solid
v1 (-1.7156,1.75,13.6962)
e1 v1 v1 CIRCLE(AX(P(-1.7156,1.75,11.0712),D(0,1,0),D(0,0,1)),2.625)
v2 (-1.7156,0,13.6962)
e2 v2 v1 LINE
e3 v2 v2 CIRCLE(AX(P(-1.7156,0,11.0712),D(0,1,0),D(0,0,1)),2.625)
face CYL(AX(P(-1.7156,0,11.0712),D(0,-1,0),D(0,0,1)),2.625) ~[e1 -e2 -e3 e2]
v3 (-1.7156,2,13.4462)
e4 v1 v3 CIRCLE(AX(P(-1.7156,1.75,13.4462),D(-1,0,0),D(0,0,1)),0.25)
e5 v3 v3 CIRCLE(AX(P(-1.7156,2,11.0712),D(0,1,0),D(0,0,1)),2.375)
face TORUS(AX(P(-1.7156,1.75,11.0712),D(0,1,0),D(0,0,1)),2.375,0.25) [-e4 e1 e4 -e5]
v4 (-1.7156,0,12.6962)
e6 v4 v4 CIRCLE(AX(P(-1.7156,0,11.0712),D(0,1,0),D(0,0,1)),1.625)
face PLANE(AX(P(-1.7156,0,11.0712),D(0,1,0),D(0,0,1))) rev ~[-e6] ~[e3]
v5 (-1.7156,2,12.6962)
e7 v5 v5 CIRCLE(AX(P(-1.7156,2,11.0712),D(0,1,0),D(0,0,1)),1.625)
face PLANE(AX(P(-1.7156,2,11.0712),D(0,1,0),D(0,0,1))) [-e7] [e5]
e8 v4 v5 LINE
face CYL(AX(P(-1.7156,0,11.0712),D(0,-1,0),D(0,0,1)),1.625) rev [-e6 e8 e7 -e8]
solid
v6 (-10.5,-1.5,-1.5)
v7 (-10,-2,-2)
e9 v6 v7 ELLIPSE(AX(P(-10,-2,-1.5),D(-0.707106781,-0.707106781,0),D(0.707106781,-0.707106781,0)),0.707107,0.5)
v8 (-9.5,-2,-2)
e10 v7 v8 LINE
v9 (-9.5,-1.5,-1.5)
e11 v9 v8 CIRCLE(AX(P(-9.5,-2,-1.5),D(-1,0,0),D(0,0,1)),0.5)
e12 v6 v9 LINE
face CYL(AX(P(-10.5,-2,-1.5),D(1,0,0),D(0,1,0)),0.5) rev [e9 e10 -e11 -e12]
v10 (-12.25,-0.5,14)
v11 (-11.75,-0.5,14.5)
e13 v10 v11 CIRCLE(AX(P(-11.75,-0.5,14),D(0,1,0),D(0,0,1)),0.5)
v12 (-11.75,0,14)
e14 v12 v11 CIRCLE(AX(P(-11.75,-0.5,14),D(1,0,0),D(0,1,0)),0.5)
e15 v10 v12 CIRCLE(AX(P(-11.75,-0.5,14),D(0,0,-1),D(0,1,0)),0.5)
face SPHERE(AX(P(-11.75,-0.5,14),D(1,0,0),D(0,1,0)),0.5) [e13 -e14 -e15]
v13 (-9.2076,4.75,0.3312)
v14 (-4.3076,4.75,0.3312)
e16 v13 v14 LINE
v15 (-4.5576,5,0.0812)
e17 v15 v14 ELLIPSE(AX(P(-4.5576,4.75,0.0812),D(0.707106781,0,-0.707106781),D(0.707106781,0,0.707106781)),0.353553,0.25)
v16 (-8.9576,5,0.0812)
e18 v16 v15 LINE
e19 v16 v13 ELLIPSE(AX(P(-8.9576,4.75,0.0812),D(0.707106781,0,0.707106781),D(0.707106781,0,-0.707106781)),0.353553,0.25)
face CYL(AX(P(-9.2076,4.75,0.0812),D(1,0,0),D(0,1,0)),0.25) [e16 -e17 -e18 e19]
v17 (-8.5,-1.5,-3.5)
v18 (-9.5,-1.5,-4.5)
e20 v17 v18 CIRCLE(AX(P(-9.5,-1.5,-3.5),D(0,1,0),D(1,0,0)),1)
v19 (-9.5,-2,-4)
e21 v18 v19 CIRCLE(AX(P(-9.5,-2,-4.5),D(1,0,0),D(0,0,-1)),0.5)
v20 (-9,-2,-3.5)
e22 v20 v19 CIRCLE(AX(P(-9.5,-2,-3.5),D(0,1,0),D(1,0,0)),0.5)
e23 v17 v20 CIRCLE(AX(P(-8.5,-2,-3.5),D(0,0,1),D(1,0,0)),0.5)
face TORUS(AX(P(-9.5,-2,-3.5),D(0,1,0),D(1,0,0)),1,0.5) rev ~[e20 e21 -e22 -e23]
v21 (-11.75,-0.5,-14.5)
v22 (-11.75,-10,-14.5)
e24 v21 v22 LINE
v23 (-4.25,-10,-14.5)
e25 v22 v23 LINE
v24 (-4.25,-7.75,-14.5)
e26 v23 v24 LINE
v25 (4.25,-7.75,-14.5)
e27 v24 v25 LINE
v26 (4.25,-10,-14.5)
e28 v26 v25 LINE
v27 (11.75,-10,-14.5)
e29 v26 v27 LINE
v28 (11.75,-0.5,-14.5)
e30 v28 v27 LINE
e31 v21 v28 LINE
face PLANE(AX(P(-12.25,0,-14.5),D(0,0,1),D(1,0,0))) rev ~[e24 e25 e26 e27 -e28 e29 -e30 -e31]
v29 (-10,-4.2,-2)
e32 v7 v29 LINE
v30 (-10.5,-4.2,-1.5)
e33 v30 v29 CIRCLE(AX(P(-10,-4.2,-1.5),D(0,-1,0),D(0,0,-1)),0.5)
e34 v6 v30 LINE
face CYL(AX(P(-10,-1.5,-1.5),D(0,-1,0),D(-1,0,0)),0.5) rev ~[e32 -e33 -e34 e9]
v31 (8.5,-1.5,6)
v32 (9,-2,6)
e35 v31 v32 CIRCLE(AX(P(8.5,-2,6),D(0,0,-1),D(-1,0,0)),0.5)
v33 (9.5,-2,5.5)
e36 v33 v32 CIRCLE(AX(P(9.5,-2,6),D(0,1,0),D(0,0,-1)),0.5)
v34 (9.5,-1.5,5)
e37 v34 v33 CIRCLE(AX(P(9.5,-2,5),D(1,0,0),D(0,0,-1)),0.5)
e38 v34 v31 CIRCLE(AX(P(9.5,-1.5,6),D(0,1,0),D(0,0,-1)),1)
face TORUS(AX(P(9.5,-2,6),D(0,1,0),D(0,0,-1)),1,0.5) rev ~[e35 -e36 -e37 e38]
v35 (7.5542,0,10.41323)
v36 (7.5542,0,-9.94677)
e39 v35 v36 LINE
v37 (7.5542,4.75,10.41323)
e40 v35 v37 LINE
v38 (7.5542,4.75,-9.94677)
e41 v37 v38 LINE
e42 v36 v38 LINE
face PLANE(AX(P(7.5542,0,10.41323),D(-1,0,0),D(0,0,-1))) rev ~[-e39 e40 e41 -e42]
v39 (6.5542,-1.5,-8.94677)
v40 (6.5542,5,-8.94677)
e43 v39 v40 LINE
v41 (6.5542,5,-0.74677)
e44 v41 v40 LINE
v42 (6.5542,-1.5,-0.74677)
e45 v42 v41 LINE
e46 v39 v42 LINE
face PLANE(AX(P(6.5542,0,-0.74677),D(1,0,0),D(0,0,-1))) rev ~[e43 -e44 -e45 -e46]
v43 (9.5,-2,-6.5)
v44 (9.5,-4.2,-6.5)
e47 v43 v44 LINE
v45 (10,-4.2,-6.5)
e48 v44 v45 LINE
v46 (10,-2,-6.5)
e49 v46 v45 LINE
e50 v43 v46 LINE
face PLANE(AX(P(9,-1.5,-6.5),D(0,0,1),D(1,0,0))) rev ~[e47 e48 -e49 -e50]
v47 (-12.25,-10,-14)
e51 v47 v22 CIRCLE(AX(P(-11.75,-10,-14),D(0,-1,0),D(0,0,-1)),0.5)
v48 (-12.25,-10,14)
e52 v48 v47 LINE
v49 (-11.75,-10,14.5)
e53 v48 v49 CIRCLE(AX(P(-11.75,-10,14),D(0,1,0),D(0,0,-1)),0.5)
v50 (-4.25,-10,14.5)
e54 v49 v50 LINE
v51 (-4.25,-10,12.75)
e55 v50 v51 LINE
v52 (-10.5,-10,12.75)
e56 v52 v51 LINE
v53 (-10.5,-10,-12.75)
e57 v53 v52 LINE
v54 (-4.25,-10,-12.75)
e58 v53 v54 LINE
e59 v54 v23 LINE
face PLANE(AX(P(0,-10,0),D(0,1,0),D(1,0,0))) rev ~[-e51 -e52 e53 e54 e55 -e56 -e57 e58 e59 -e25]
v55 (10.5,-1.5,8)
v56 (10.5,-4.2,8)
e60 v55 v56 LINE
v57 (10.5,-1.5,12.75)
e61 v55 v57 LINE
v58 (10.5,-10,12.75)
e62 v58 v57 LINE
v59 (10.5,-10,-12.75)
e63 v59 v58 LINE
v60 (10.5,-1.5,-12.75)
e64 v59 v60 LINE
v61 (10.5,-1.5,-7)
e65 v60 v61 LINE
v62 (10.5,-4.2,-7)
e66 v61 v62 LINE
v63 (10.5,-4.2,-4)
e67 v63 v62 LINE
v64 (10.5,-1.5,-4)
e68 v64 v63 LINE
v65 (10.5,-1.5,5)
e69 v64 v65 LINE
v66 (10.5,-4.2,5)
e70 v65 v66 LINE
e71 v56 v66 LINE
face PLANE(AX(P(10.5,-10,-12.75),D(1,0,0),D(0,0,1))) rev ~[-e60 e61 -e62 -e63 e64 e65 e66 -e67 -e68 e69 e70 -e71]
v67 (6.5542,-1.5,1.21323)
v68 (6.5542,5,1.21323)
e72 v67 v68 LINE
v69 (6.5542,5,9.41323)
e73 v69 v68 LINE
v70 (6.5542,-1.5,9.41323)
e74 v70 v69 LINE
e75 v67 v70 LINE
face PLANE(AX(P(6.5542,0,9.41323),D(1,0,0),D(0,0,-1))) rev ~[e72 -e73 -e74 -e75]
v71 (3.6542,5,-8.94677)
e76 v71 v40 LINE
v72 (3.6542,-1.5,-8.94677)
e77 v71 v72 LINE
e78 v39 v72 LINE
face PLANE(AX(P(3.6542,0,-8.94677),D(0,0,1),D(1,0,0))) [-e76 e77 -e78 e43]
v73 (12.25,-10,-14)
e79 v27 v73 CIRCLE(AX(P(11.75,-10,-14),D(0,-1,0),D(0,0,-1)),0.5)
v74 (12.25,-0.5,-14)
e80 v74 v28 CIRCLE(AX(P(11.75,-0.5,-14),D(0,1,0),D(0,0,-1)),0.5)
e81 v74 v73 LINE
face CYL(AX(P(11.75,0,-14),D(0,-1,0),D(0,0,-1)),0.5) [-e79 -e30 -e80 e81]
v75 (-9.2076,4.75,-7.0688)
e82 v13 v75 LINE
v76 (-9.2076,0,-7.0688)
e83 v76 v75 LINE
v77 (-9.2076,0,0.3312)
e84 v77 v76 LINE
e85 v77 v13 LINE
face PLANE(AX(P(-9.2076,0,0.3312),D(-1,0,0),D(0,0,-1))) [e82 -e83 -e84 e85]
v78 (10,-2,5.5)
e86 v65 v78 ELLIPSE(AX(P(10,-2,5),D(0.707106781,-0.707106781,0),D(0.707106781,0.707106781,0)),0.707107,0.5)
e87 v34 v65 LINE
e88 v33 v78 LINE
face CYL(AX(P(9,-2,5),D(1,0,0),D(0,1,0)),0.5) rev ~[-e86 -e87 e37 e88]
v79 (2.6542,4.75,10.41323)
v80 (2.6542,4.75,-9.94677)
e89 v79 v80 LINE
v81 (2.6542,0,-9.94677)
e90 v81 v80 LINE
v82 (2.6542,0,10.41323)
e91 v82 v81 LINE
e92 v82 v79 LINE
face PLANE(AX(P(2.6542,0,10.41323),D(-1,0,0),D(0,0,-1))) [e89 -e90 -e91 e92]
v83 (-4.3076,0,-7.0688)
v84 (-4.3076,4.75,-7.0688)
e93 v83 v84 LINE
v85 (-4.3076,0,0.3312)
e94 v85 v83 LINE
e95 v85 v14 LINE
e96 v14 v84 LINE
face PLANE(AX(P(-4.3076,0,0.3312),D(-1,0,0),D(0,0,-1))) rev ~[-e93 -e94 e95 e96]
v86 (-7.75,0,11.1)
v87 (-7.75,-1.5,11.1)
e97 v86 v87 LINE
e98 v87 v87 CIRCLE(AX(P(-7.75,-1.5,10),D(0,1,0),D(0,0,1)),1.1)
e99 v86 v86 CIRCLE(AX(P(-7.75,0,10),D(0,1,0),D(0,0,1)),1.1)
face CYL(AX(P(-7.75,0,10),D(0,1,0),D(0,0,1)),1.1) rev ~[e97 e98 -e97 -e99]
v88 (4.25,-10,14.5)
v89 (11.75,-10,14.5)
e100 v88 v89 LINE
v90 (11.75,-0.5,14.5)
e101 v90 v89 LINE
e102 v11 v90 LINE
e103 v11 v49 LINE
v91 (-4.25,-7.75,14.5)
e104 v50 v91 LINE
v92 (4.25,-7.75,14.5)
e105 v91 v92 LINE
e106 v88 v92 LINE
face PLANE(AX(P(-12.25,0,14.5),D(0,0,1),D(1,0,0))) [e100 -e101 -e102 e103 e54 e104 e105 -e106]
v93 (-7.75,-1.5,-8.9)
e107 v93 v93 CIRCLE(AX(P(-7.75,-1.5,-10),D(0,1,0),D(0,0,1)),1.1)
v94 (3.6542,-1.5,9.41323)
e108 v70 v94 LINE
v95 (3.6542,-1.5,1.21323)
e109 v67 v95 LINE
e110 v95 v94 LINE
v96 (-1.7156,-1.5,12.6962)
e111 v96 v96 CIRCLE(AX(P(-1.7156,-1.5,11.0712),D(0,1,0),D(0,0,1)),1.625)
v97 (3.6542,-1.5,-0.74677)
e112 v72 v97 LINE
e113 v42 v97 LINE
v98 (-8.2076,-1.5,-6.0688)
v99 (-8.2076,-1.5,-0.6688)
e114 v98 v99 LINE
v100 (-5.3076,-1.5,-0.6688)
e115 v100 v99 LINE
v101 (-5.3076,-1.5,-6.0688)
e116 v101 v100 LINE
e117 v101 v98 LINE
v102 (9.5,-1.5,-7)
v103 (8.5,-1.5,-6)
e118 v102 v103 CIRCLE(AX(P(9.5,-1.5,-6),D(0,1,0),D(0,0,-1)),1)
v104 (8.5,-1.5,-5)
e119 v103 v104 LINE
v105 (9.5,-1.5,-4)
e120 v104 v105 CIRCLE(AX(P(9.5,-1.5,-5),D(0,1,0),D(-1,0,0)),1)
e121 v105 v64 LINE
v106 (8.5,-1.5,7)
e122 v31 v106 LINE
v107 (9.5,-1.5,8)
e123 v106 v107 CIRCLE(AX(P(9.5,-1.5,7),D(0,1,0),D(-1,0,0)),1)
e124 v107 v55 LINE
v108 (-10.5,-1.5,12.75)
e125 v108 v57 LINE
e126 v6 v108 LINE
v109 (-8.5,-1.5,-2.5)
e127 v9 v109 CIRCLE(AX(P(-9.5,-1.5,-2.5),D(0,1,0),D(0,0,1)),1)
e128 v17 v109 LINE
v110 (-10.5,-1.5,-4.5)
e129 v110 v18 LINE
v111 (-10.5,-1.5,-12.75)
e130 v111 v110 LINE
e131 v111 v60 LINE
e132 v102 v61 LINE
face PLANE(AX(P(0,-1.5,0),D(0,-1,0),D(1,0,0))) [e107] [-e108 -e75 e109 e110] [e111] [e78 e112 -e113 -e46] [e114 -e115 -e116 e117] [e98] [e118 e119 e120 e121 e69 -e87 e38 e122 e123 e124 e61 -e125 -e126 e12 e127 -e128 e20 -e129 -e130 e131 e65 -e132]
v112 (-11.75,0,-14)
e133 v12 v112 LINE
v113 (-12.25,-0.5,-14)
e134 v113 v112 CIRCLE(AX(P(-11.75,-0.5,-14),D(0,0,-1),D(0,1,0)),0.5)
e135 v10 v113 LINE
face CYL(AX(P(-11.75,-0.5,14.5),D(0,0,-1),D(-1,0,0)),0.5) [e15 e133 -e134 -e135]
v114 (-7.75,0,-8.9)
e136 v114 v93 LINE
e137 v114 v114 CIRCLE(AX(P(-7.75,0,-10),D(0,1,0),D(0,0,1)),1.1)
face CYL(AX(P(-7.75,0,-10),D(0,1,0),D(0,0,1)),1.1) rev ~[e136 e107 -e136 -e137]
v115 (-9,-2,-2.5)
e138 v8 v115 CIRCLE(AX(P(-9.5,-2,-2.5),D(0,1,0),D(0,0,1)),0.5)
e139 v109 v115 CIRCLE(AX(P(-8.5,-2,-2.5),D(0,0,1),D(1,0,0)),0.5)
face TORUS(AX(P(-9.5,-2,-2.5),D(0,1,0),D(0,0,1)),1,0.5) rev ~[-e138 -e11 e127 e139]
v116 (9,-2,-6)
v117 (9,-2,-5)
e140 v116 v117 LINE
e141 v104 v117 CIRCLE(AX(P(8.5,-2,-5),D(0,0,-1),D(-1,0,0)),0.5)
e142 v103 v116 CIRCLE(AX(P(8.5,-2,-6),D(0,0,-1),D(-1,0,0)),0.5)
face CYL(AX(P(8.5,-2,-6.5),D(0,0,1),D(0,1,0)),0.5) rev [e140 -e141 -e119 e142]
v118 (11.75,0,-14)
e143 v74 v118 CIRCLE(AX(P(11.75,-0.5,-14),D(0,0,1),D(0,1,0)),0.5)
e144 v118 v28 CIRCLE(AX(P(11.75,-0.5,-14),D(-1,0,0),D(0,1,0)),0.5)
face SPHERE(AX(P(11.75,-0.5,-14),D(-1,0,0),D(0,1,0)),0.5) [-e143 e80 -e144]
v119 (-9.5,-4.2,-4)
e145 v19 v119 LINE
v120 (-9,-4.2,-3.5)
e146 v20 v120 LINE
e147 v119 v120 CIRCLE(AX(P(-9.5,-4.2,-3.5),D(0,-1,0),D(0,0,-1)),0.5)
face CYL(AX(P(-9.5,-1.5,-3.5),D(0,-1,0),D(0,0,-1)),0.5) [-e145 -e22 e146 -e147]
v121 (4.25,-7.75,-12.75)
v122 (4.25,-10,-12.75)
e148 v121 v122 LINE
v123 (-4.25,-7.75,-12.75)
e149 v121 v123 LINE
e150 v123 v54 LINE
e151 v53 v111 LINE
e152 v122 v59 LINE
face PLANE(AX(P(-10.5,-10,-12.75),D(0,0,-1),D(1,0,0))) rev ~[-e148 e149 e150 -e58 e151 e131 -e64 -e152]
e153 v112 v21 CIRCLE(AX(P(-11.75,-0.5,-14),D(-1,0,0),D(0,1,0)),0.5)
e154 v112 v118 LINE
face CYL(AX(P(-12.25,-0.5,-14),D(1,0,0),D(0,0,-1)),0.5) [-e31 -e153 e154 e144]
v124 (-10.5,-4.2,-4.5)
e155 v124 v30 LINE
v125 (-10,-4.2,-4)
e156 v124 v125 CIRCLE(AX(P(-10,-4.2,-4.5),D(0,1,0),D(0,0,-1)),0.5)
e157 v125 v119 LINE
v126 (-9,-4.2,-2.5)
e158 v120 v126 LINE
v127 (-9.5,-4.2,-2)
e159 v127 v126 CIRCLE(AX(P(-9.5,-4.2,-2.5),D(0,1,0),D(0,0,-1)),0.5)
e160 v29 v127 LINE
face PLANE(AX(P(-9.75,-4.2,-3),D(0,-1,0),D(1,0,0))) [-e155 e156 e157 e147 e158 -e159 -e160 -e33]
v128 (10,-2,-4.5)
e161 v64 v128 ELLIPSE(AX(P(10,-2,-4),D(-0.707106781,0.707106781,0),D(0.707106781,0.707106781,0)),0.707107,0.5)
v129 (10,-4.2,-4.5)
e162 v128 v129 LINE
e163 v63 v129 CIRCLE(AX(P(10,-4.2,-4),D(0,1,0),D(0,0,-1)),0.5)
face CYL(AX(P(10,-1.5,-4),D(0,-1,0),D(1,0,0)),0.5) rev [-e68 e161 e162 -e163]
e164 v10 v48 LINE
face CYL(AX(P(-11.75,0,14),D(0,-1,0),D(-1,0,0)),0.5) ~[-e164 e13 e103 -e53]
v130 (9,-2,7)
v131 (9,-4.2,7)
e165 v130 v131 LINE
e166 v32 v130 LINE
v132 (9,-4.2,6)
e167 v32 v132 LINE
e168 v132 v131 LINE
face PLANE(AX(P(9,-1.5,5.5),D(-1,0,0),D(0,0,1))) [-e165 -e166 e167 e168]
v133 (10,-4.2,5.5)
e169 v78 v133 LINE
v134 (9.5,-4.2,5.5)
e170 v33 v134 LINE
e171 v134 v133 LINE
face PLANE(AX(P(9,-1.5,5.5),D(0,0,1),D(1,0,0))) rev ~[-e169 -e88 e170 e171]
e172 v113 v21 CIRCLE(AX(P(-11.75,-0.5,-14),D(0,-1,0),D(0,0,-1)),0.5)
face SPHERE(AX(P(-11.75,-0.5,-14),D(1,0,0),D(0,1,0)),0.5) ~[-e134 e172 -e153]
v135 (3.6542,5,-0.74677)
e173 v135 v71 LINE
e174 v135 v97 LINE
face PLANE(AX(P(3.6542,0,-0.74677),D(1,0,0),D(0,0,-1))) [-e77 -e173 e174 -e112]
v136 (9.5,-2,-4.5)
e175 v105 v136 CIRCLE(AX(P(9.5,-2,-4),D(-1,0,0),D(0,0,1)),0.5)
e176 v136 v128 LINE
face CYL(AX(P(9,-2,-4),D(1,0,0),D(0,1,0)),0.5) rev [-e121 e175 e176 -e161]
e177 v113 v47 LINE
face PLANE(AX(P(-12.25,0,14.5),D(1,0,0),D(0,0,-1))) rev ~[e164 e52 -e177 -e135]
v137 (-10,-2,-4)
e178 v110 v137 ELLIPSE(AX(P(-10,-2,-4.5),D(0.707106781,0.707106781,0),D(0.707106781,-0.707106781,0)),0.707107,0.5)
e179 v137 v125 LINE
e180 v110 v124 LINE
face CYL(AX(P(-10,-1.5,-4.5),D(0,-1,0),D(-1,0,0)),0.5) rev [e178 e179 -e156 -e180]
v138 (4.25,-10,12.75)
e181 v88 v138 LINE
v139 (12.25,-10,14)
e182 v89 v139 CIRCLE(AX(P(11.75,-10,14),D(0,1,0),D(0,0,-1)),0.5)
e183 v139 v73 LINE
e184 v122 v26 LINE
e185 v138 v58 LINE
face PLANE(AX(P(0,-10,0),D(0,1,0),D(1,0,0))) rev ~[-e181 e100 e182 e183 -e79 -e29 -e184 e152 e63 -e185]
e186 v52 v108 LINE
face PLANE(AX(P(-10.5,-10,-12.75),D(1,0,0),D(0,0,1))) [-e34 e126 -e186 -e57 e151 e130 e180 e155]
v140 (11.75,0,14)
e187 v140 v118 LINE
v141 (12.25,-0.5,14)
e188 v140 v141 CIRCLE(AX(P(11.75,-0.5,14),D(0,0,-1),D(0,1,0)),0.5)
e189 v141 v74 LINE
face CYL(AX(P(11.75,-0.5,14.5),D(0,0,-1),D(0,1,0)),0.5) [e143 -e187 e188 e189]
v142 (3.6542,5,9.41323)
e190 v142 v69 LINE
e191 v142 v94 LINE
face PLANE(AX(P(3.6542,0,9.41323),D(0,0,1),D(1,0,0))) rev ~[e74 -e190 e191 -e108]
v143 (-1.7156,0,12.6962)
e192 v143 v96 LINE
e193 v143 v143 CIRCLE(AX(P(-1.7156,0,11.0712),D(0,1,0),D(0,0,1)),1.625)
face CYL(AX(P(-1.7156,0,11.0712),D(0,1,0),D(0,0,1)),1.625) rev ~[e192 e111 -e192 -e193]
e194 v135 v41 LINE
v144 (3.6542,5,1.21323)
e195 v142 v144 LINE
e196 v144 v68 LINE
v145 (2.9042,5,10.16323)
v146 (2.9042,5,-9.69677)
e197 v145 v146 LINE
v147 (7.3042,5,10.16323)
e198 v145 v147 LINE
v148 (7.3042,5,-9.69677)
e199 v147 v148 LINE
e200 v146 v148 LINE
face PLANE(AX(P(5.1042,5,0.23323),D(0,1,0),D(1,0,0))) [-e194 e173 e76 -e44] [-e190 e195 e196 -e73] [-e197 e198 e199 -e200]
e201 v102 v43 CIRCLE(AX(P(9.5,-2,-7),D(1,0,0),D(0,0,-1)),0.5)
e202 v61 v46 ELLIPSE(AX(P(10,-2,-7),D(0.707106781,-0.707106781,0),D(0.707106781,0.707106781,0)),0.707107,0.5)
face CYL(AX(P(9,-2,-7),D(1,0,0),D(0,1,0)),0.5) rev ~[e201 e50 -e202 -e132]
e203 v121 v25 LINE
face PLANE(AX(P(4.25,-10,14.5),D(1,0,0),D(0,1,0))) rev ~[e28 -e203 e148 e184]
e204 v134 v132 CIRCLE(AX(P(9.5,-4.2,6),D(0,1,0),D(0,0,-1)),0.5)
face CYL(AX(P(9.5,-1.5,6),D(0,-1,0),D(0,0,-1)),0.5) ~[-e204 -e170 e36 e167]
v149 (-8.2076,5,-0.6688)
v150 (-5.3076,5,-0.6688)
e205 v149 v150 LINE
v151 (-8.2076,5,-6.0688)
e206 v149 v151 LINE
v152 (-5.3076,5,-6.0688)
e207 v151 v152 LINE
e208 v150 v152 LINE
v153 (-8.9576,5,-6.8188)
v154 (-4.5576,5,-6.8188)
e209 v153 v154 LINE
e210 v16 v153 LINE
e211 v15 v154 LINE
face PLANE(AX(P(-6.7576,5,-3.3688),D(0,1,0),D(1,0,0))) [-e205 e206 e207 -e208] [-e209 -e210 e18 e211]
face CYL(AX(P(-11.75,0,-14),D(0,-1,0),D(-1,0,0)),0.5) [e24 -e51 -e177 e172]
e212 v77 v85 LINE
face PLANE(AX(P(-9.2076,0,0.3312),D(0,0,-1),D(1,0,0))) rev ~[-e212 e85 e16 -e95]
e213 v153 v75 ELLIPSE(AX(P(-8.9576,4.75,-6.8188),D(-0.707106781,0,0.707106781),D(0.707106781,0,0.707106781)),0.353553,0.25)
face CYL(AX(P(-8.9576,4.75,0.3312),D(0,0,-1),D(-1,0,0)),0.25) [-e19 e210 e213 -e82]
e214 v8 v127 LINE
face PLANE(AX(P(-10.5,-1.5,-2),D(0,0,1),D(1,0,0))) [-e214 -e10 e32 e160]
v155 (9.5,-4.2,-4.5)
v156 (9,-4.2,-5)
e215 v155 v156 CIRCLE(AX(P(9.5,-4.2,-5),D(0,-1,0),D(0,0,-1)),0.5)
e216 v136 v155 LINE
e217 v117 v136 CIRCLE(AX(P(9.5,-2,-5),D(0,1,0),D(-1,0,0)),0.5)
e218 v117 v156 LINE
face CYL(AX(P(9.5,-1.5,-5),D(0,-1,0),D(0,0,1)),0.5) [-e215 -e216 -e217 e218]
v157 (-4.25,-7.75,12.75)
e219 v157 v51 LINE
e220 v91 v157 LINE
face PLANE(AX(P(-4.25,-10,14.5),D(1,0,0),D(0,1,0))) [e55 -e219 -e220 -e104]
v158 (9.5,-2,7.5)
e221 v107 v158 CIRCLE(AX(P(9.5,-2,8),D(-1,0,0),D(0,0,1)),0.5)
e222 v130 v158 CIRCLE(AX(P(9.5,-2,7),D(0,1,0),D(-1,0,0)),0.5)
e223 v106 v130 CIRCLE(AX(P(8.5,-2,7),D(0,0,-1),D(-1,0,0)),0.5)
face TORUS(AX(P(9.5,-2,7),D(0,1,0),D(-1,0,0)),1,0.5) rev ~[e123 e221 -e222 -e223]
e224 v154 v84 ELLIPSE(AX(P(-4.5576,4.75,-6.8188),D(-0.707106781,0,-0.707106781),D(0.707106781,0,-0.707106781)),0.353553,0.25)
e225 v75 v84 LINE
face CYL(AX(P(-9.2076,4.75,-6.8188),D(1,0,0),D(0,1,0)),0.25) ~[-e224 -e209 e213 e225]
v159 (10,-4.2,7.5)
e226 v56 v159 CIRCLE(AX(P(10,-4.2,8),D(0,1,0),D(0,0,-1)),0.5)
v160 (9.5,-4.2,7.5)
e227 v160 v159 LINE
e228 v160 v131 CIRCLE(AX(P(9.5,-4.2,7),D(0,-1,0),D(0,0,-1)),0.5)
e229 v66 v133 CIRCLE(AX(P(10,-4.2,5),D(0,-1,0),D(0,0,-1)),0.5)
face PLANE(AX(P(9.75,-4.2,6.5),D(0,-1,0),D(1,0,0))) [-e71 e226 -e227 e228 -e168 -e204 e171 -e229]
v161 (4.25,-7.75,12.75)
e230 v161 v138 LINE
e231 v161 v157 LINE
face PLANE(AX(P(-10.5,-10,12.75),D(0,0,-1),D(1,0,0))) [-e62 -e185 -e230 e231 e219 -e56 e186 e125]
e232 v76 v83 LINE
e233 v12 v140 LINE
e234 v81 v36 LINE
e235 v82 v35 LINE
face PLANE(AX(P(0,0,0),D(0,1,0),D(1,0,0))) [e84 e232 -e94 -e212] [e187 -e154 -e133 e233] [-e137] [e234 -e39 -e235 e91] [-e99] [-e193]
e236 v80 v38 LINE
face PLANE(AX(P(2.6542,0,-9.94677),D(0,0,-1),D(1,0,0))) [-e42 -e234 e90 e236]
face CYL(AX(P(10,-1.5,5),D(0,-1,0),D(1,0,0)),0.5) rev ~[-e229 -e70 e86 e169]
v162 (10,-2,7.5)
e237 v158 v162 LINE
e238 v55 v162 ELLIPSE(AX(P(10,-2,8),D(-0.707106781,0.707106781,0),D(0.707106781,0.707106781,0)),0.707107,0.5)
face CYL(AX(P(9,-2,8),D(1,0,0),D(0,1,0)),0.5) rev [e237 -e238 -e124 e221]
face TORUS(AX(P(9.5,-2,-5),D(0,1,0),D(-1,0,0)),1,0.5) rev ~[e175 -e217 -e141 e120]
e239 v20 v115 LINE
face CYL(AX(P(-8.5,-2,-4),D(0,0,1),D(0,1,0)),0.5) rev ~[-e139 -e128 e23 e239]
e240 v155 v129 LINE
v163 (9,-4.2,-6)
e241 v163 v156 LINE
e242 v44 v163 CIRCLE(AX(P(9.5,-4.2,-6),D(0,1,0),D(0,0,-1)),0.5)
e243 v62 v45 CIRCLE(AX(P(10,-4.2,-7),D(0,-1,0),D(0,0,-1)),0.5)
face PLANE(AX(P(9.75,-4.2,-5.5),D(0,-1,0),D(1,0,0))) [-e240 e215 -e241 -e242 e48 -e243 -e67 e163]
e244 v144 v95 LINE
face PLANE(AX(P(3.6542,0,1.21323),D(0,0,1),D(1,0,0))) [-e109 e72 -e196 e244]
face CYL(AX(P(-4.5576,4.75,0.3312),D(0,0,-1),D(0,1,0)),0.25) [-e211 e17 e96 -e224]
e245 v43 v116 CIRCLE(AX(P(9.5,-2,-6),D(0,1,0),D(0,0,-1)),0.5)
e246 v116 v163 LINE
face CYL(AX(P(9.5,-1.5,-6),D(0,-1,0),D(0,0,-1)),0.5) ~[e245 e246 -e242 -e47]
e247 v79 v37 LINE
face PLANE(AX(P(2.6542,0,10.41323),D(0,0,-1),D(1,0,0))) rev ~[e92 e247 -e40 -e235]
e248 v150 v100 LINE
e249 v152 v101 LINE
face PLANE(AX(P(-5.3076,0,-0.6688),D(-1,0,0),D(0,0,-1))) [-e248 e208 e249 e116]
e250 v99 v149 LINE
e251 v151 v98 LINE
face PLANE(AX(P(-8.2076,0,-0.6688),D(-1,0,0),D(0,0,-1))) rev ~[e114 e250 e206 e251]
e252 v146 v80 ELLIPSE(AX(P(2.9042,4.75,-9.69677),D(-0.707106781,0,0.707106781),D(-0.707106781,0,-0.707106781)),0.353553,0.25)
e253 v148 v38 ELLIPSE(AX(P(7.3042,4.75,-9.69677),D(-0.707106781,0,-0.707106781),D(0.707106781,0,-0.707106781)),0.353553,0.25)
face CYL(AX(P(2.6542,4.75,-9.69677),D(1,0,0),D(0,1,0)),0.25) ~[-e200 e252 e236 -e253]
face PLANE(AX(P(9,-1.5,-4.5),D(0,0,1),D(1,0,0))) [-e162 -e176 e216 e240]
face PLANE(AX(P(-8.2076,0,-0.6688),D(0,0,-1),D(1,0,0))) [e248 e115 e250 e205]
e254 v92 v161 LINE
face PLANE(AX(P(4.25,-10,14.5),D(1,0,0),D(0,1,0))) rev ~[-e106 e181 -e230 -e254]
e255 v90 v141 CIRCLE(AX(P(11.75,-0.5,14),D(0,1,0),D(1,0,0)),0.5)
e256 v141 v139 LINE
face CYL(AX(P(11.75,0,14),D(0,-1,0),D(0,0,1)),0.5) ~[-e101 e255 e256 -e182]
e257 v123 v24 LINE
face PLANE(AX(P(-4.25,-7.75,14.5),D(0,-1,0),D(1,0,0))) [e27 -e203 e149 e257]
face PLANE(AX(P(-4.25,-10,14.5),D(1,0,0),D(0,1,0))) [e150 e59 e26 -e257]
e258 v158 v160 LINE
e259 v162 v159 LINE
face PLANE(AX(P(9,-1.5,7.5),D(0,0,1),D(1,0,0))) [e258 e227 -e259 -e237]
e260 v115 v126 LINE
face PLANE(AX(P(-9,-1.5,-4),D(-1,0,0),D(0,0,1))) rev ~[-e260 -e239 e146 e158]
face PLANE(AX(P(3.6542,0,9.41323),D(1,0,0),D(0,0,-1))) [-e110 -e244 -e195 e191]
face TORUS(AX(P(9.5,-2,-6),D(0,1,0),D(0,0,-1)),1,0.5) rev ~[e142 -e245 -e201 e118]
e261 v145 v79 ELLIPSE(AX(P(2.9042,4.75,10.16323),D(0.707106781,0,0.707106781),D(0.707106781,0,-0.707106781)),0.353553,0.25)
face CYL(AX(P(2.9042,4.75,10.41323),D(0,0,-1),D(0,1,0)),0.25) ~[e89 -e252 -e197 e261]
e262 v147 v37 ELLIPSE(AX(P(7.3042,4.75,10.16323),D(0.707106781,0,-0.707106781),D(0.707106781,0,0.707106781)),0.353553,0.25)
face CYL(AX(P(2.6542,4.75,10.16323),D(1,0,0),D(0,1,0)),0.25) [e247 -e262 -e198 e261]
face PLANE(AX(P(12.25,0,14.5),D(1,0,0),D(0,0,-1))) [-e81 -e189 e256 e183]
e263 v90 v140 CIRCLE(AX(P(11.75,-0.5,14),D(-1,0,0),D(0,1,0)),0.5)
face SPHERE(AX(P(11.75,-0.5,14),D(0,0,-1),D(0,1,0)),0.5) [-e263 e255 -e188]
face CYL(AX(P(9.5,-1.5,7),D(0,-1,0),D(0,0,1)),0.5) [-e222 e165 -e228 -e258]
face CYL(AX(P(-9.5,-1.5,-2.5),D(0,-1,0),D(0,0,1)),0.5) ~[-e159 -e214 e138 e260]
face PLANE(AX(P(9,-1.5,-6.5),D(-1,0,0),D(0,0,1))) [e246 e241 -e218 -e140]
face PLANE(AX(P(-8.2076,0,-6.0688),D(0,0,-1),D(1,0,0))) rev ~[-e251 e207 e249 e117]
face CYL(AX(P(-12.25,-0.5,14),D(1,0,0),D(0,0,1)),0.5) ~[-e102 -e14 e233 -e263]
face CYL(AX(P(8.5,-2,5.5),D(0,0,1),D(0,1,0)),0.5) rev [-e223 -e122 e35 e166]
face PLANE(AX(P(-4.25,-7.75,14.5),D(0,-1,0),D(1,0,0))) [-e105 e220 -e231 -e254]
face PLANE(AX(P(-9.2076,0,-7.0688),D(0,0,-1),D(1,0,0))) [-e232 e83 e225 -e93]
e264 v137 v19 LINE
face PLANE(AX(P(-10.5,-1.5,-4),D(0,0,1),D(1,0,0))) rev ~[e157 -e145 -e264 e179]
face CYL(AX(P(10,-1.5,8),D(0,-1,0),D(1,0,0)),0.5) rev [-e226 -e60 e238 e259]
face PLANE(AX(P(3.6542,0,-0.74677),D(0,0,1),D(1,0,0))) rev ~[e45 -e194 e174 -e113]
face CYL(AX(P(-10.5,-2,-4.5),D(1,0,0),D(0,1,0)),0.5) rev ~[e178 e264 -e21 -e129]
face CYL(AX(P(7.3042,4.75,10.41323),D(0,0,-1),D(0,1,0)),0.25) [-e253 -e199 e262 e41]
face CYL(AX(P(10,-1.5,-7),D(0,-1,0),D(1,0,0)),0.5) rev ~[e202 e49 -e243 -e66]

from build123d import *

# Parameters (mm, degrees)
SKETCH2_W           = 24.5
SKETCH2_H           = 29
BOSS_EXTRUDE1_DEPTH = 10
SKETCH3_W           = 21
SKETCH3_H           = 25.5
CUT_EXTRUDE1_DEPTH  = 8.5
SKETCH4_R           = 1.1
SKETCH4_R_2         = 1.625
SKETCH4_W           = 2.9
SKETCH4_H           = 5.4
SKETCH4_H_2         = 8.2
CUT_EXTRUDE2_DEPTH  = 22.454894546
SKETCH5_W           = 8.5
SKETCH5_H           = 2.25
CUT_EXTRUDE3_DEPTH  = 34.031235218
FILLET1_R           = 0.5
SKETCH6_W           = 1.5
SKETCH6_H           = 2
BOSS_EXTRUDE2_DEPTH = 2.7
FILLET2_R           = 0.5
SKETCH7_W           = 4.9
SKETCH7_H           = 7.4
SKETCH7_W_2         = 2.9
SKETCH7_H_2         = 5.4
SKETCH7_H_3         = 20.36
SKETCH7_H_4         = 8.2
BOSS_EXTRUDE3_DEPTH = 5
SKETCH8_R           = 2.625
SKETCH8_R_2         = 1.625
BOSS_EXTRUDE4_DEPTH = 2
FILLET3_R           = 0.25
FILLET4_R           = 0.25


with BuildPart() as part:
    # Sketch2 → Boss-Extrude1 (new body)
    with BuildSketch(Plane(origin=(0, 0, 0), x_dir=(1, 0, 0), z_dir=(0, 1, 0))):
        Rectangle(SKETCH2_W, SKETCH2_H)
    extrude(amount=-BOSS_EXTRUDE1_DEPTH)

    # Sketch3 → Cut-Extrude1 (cut)
    with BuildSketch(Plane.XZ.offset(10)):
        Rectangle(SKETCH3_W, SKETCH3_H)
    extrude(amount=-CUT_EXTRUDE1_DEPTH, mode=Mode.SUBTRACT)

    # Sketch4 → Cut-Extrude2 (cut, through all)
    with BuildSketch(Plane(origin=(0, 0, 0), x_dir=(1, 0, 0), z_dir=(0, 1, 0))):
        with Locations(Location((-7.75, -10, 0), (0, 0, 270))):
            Circle(SKETCH4_R)
        with Locations(Location((-7.75, 10, 0), (0, 0, 270))):
            Circle(SKETCH4_R)
        with Locations(Location((-1.7156, -11.0712, 0), (0, 0, 270))):
            Circle(SKETCH4_R_2)
        with Locations((-6.7576, 3.3688)):
            Rectangle(SKETCH4_W, SKETCH4_H)
        with Locations((5.1042, 4.84677)):
            Rectangle(SKETCH4_W, SKETCH4_H_2)
        with Locations((5.1042, -5.31323)):
            Rectangle(SKETCH4_W, SKETCH4_H_2)
    extrude(amount=-CUT_EXTRUDE2_DEPTH, mode=Mode.SUBTRACT)

    # Sketch5 → Cut-Extrude3 (cut, through all)
    with BuildSketch(Plane.XY.offset(14.5)):
        with Locations((0, -8.875)):
            Rectangle(SKETCH5_W, SKETCH5_H)
    extrude(amount=-CUT_EXTRUDE3_DEPTH, mode=Mode.SUBTRACT)

    # Fillet1
    fillet1_edges = [part.edges().sort_by_distance(p)[0] for p in [
        (0, 0, -14.5),
        (12.25, 0, 0),
        (0, 0, 14.5),
        (-12.25, 0, 0),
        (-12.25, -5, -14.5),
        (12.25, -5, -14.5),
        (12.25, -5, 14.5),
        (-12.25, -5, 14.5),
    ]]
    fillet(fillet1_edges, radius=FILLET1_R)

    # Sketch6 → Boss-Extrude2 (add)
    with BuildSketch(Plane.XZ.offset(1.5)):
        with Locations((-9.75, -3)):
            Rectangle(SKETCH6_W, SKETCH6_H)
        with Locations((9.75, 6.5)):
            Rectangle(SKETCH6_W, SKETCH6_H)
        with Locations((9.75, -5.5)):
            Rectangle(SKETCH6_W, SKETCH6_H)
    extrude(amount=BOSS_EXTRUDE2_DEPTH)

    # Fillet2
    fillet2_edges = [part.edges().sort_by_distance(p)[0] for p in [
        (-9.75, -1.5, -2),
        (9.75, -1.5, -6.5),
        (9.75, -1.5, 5.5),
        (-9, -1.5, -3),
        (9, -1.5, -5.5),
        (9, -1.5, 6.5),
        (-9.75, -1.5, -4),
        (-10.5, -2.85, -4),
        (-9, -2.85, -4),
        (-9, -2.85, -2),
        (-10.5, -2.85, -2),
        (9.75, -1.5, -4.5),
        (10.5, -2.85, -4.5),
        (9, -2.85, -4.5),
        (9, -2.85, -6.5),
        (10.5, -2.85, -6.5),
        (9.75, -1.5, 7.5),
        (10.5, -2.85, 7.5),
        (9, -2.85, 7.5),
        (9, -2.85, 5.5),
        (10.5, -2.85, 5.5),
    ]]
    fillet(fillet2_edges, radius=FILLET2_R)

    # Sketch7 → Boss-Extrude3 (add)
    # profile 1 of 2: a face of its own
    with BuildSketch(Plane(origin=(0, 0, 0), x_dir=(1, 0, 0), z_dir=(0, 1, 0))):
        with Locations((-6.7576, 3.3688)):
            Rectangle(SKETCH7_W, SKETCH7_H)
        with Locations((-6.7576, 3.3688)):
            Rectangle(SKETCH7_W_2, SKETCH7_H_2, mode=Mode.SUBTRACT)
    # profile 2 of 2: a face of its own
    with BuildSketch(Plane(origin=(0, 0, 0), x_dir=(1, 0, 0), z_dir=(0, 1, 0))):
        with Locations((5.1042, -0.23323)):
            Rectangle(SKETCH7_W, SKETCH7_H_3)
        with Locations((5.1042, -5.31323)):
            Rectangle(SKETCH7_W_2, SKETCH7_H_4, mode=Mode.SUBTRACT)
        with Locations((5.1042, 4.84677)):
            Rectangle(SKETCH7_W_2, SKETCH7_H_4, mode=Mode.SUBTRACT)
    extrude(amount=BOSS_EXTRUDE3_DEPTH)

    # Fillet3
    fillet3_edges = [part.edges().sort_by_distance(p)[0] for p in [
        (-6.7576, 5, 0.3312),
        (-4.3076, 5, -3.3688),
        (-6.7576, 5, -7.0688),
        (-9.2076, 5, -3.3688),
        (2.6542, 5, 0.23323),
        (5.1042, 5, 10.41323),
        (7.5542, 5, 0.23323),
        (5.1042, 5, -9.94677),
    ]]
    fillet(fillet3_edges, radius=FILLET3_R)


with BuildPart() as body_2:
    # Sketch8 → Boss-Extrude4 (new body)
    with BuildSketch(Plane(origin=(0, 0, 0), x_dir=(1, 0, 0), z_dir=(0, 1, 0))):
        with Locations(Location((-1.7156, -11.0712, 0), (0, 0, 270))):
            Circle(SKETCH8_R)
        with Locations(Location((-1.7156, -11.0712, 0), (0, 0, 270))):
            Circle(SKETCH8_R_2, mode=Mode.SUBTRACT)
    extrude(amount=BOSS_EXTRUDE4_DEPTH)

    # Fillet4
    fillet4_edges = [body_2.edges().sort_by_distance(p)[0] for p in [
        (-1.7156, 2, 8.4462),
    ]]
    fillet(fillet4_edges, radius=FILLET4_R)


solid = Compound([part.part, body_2.part])
